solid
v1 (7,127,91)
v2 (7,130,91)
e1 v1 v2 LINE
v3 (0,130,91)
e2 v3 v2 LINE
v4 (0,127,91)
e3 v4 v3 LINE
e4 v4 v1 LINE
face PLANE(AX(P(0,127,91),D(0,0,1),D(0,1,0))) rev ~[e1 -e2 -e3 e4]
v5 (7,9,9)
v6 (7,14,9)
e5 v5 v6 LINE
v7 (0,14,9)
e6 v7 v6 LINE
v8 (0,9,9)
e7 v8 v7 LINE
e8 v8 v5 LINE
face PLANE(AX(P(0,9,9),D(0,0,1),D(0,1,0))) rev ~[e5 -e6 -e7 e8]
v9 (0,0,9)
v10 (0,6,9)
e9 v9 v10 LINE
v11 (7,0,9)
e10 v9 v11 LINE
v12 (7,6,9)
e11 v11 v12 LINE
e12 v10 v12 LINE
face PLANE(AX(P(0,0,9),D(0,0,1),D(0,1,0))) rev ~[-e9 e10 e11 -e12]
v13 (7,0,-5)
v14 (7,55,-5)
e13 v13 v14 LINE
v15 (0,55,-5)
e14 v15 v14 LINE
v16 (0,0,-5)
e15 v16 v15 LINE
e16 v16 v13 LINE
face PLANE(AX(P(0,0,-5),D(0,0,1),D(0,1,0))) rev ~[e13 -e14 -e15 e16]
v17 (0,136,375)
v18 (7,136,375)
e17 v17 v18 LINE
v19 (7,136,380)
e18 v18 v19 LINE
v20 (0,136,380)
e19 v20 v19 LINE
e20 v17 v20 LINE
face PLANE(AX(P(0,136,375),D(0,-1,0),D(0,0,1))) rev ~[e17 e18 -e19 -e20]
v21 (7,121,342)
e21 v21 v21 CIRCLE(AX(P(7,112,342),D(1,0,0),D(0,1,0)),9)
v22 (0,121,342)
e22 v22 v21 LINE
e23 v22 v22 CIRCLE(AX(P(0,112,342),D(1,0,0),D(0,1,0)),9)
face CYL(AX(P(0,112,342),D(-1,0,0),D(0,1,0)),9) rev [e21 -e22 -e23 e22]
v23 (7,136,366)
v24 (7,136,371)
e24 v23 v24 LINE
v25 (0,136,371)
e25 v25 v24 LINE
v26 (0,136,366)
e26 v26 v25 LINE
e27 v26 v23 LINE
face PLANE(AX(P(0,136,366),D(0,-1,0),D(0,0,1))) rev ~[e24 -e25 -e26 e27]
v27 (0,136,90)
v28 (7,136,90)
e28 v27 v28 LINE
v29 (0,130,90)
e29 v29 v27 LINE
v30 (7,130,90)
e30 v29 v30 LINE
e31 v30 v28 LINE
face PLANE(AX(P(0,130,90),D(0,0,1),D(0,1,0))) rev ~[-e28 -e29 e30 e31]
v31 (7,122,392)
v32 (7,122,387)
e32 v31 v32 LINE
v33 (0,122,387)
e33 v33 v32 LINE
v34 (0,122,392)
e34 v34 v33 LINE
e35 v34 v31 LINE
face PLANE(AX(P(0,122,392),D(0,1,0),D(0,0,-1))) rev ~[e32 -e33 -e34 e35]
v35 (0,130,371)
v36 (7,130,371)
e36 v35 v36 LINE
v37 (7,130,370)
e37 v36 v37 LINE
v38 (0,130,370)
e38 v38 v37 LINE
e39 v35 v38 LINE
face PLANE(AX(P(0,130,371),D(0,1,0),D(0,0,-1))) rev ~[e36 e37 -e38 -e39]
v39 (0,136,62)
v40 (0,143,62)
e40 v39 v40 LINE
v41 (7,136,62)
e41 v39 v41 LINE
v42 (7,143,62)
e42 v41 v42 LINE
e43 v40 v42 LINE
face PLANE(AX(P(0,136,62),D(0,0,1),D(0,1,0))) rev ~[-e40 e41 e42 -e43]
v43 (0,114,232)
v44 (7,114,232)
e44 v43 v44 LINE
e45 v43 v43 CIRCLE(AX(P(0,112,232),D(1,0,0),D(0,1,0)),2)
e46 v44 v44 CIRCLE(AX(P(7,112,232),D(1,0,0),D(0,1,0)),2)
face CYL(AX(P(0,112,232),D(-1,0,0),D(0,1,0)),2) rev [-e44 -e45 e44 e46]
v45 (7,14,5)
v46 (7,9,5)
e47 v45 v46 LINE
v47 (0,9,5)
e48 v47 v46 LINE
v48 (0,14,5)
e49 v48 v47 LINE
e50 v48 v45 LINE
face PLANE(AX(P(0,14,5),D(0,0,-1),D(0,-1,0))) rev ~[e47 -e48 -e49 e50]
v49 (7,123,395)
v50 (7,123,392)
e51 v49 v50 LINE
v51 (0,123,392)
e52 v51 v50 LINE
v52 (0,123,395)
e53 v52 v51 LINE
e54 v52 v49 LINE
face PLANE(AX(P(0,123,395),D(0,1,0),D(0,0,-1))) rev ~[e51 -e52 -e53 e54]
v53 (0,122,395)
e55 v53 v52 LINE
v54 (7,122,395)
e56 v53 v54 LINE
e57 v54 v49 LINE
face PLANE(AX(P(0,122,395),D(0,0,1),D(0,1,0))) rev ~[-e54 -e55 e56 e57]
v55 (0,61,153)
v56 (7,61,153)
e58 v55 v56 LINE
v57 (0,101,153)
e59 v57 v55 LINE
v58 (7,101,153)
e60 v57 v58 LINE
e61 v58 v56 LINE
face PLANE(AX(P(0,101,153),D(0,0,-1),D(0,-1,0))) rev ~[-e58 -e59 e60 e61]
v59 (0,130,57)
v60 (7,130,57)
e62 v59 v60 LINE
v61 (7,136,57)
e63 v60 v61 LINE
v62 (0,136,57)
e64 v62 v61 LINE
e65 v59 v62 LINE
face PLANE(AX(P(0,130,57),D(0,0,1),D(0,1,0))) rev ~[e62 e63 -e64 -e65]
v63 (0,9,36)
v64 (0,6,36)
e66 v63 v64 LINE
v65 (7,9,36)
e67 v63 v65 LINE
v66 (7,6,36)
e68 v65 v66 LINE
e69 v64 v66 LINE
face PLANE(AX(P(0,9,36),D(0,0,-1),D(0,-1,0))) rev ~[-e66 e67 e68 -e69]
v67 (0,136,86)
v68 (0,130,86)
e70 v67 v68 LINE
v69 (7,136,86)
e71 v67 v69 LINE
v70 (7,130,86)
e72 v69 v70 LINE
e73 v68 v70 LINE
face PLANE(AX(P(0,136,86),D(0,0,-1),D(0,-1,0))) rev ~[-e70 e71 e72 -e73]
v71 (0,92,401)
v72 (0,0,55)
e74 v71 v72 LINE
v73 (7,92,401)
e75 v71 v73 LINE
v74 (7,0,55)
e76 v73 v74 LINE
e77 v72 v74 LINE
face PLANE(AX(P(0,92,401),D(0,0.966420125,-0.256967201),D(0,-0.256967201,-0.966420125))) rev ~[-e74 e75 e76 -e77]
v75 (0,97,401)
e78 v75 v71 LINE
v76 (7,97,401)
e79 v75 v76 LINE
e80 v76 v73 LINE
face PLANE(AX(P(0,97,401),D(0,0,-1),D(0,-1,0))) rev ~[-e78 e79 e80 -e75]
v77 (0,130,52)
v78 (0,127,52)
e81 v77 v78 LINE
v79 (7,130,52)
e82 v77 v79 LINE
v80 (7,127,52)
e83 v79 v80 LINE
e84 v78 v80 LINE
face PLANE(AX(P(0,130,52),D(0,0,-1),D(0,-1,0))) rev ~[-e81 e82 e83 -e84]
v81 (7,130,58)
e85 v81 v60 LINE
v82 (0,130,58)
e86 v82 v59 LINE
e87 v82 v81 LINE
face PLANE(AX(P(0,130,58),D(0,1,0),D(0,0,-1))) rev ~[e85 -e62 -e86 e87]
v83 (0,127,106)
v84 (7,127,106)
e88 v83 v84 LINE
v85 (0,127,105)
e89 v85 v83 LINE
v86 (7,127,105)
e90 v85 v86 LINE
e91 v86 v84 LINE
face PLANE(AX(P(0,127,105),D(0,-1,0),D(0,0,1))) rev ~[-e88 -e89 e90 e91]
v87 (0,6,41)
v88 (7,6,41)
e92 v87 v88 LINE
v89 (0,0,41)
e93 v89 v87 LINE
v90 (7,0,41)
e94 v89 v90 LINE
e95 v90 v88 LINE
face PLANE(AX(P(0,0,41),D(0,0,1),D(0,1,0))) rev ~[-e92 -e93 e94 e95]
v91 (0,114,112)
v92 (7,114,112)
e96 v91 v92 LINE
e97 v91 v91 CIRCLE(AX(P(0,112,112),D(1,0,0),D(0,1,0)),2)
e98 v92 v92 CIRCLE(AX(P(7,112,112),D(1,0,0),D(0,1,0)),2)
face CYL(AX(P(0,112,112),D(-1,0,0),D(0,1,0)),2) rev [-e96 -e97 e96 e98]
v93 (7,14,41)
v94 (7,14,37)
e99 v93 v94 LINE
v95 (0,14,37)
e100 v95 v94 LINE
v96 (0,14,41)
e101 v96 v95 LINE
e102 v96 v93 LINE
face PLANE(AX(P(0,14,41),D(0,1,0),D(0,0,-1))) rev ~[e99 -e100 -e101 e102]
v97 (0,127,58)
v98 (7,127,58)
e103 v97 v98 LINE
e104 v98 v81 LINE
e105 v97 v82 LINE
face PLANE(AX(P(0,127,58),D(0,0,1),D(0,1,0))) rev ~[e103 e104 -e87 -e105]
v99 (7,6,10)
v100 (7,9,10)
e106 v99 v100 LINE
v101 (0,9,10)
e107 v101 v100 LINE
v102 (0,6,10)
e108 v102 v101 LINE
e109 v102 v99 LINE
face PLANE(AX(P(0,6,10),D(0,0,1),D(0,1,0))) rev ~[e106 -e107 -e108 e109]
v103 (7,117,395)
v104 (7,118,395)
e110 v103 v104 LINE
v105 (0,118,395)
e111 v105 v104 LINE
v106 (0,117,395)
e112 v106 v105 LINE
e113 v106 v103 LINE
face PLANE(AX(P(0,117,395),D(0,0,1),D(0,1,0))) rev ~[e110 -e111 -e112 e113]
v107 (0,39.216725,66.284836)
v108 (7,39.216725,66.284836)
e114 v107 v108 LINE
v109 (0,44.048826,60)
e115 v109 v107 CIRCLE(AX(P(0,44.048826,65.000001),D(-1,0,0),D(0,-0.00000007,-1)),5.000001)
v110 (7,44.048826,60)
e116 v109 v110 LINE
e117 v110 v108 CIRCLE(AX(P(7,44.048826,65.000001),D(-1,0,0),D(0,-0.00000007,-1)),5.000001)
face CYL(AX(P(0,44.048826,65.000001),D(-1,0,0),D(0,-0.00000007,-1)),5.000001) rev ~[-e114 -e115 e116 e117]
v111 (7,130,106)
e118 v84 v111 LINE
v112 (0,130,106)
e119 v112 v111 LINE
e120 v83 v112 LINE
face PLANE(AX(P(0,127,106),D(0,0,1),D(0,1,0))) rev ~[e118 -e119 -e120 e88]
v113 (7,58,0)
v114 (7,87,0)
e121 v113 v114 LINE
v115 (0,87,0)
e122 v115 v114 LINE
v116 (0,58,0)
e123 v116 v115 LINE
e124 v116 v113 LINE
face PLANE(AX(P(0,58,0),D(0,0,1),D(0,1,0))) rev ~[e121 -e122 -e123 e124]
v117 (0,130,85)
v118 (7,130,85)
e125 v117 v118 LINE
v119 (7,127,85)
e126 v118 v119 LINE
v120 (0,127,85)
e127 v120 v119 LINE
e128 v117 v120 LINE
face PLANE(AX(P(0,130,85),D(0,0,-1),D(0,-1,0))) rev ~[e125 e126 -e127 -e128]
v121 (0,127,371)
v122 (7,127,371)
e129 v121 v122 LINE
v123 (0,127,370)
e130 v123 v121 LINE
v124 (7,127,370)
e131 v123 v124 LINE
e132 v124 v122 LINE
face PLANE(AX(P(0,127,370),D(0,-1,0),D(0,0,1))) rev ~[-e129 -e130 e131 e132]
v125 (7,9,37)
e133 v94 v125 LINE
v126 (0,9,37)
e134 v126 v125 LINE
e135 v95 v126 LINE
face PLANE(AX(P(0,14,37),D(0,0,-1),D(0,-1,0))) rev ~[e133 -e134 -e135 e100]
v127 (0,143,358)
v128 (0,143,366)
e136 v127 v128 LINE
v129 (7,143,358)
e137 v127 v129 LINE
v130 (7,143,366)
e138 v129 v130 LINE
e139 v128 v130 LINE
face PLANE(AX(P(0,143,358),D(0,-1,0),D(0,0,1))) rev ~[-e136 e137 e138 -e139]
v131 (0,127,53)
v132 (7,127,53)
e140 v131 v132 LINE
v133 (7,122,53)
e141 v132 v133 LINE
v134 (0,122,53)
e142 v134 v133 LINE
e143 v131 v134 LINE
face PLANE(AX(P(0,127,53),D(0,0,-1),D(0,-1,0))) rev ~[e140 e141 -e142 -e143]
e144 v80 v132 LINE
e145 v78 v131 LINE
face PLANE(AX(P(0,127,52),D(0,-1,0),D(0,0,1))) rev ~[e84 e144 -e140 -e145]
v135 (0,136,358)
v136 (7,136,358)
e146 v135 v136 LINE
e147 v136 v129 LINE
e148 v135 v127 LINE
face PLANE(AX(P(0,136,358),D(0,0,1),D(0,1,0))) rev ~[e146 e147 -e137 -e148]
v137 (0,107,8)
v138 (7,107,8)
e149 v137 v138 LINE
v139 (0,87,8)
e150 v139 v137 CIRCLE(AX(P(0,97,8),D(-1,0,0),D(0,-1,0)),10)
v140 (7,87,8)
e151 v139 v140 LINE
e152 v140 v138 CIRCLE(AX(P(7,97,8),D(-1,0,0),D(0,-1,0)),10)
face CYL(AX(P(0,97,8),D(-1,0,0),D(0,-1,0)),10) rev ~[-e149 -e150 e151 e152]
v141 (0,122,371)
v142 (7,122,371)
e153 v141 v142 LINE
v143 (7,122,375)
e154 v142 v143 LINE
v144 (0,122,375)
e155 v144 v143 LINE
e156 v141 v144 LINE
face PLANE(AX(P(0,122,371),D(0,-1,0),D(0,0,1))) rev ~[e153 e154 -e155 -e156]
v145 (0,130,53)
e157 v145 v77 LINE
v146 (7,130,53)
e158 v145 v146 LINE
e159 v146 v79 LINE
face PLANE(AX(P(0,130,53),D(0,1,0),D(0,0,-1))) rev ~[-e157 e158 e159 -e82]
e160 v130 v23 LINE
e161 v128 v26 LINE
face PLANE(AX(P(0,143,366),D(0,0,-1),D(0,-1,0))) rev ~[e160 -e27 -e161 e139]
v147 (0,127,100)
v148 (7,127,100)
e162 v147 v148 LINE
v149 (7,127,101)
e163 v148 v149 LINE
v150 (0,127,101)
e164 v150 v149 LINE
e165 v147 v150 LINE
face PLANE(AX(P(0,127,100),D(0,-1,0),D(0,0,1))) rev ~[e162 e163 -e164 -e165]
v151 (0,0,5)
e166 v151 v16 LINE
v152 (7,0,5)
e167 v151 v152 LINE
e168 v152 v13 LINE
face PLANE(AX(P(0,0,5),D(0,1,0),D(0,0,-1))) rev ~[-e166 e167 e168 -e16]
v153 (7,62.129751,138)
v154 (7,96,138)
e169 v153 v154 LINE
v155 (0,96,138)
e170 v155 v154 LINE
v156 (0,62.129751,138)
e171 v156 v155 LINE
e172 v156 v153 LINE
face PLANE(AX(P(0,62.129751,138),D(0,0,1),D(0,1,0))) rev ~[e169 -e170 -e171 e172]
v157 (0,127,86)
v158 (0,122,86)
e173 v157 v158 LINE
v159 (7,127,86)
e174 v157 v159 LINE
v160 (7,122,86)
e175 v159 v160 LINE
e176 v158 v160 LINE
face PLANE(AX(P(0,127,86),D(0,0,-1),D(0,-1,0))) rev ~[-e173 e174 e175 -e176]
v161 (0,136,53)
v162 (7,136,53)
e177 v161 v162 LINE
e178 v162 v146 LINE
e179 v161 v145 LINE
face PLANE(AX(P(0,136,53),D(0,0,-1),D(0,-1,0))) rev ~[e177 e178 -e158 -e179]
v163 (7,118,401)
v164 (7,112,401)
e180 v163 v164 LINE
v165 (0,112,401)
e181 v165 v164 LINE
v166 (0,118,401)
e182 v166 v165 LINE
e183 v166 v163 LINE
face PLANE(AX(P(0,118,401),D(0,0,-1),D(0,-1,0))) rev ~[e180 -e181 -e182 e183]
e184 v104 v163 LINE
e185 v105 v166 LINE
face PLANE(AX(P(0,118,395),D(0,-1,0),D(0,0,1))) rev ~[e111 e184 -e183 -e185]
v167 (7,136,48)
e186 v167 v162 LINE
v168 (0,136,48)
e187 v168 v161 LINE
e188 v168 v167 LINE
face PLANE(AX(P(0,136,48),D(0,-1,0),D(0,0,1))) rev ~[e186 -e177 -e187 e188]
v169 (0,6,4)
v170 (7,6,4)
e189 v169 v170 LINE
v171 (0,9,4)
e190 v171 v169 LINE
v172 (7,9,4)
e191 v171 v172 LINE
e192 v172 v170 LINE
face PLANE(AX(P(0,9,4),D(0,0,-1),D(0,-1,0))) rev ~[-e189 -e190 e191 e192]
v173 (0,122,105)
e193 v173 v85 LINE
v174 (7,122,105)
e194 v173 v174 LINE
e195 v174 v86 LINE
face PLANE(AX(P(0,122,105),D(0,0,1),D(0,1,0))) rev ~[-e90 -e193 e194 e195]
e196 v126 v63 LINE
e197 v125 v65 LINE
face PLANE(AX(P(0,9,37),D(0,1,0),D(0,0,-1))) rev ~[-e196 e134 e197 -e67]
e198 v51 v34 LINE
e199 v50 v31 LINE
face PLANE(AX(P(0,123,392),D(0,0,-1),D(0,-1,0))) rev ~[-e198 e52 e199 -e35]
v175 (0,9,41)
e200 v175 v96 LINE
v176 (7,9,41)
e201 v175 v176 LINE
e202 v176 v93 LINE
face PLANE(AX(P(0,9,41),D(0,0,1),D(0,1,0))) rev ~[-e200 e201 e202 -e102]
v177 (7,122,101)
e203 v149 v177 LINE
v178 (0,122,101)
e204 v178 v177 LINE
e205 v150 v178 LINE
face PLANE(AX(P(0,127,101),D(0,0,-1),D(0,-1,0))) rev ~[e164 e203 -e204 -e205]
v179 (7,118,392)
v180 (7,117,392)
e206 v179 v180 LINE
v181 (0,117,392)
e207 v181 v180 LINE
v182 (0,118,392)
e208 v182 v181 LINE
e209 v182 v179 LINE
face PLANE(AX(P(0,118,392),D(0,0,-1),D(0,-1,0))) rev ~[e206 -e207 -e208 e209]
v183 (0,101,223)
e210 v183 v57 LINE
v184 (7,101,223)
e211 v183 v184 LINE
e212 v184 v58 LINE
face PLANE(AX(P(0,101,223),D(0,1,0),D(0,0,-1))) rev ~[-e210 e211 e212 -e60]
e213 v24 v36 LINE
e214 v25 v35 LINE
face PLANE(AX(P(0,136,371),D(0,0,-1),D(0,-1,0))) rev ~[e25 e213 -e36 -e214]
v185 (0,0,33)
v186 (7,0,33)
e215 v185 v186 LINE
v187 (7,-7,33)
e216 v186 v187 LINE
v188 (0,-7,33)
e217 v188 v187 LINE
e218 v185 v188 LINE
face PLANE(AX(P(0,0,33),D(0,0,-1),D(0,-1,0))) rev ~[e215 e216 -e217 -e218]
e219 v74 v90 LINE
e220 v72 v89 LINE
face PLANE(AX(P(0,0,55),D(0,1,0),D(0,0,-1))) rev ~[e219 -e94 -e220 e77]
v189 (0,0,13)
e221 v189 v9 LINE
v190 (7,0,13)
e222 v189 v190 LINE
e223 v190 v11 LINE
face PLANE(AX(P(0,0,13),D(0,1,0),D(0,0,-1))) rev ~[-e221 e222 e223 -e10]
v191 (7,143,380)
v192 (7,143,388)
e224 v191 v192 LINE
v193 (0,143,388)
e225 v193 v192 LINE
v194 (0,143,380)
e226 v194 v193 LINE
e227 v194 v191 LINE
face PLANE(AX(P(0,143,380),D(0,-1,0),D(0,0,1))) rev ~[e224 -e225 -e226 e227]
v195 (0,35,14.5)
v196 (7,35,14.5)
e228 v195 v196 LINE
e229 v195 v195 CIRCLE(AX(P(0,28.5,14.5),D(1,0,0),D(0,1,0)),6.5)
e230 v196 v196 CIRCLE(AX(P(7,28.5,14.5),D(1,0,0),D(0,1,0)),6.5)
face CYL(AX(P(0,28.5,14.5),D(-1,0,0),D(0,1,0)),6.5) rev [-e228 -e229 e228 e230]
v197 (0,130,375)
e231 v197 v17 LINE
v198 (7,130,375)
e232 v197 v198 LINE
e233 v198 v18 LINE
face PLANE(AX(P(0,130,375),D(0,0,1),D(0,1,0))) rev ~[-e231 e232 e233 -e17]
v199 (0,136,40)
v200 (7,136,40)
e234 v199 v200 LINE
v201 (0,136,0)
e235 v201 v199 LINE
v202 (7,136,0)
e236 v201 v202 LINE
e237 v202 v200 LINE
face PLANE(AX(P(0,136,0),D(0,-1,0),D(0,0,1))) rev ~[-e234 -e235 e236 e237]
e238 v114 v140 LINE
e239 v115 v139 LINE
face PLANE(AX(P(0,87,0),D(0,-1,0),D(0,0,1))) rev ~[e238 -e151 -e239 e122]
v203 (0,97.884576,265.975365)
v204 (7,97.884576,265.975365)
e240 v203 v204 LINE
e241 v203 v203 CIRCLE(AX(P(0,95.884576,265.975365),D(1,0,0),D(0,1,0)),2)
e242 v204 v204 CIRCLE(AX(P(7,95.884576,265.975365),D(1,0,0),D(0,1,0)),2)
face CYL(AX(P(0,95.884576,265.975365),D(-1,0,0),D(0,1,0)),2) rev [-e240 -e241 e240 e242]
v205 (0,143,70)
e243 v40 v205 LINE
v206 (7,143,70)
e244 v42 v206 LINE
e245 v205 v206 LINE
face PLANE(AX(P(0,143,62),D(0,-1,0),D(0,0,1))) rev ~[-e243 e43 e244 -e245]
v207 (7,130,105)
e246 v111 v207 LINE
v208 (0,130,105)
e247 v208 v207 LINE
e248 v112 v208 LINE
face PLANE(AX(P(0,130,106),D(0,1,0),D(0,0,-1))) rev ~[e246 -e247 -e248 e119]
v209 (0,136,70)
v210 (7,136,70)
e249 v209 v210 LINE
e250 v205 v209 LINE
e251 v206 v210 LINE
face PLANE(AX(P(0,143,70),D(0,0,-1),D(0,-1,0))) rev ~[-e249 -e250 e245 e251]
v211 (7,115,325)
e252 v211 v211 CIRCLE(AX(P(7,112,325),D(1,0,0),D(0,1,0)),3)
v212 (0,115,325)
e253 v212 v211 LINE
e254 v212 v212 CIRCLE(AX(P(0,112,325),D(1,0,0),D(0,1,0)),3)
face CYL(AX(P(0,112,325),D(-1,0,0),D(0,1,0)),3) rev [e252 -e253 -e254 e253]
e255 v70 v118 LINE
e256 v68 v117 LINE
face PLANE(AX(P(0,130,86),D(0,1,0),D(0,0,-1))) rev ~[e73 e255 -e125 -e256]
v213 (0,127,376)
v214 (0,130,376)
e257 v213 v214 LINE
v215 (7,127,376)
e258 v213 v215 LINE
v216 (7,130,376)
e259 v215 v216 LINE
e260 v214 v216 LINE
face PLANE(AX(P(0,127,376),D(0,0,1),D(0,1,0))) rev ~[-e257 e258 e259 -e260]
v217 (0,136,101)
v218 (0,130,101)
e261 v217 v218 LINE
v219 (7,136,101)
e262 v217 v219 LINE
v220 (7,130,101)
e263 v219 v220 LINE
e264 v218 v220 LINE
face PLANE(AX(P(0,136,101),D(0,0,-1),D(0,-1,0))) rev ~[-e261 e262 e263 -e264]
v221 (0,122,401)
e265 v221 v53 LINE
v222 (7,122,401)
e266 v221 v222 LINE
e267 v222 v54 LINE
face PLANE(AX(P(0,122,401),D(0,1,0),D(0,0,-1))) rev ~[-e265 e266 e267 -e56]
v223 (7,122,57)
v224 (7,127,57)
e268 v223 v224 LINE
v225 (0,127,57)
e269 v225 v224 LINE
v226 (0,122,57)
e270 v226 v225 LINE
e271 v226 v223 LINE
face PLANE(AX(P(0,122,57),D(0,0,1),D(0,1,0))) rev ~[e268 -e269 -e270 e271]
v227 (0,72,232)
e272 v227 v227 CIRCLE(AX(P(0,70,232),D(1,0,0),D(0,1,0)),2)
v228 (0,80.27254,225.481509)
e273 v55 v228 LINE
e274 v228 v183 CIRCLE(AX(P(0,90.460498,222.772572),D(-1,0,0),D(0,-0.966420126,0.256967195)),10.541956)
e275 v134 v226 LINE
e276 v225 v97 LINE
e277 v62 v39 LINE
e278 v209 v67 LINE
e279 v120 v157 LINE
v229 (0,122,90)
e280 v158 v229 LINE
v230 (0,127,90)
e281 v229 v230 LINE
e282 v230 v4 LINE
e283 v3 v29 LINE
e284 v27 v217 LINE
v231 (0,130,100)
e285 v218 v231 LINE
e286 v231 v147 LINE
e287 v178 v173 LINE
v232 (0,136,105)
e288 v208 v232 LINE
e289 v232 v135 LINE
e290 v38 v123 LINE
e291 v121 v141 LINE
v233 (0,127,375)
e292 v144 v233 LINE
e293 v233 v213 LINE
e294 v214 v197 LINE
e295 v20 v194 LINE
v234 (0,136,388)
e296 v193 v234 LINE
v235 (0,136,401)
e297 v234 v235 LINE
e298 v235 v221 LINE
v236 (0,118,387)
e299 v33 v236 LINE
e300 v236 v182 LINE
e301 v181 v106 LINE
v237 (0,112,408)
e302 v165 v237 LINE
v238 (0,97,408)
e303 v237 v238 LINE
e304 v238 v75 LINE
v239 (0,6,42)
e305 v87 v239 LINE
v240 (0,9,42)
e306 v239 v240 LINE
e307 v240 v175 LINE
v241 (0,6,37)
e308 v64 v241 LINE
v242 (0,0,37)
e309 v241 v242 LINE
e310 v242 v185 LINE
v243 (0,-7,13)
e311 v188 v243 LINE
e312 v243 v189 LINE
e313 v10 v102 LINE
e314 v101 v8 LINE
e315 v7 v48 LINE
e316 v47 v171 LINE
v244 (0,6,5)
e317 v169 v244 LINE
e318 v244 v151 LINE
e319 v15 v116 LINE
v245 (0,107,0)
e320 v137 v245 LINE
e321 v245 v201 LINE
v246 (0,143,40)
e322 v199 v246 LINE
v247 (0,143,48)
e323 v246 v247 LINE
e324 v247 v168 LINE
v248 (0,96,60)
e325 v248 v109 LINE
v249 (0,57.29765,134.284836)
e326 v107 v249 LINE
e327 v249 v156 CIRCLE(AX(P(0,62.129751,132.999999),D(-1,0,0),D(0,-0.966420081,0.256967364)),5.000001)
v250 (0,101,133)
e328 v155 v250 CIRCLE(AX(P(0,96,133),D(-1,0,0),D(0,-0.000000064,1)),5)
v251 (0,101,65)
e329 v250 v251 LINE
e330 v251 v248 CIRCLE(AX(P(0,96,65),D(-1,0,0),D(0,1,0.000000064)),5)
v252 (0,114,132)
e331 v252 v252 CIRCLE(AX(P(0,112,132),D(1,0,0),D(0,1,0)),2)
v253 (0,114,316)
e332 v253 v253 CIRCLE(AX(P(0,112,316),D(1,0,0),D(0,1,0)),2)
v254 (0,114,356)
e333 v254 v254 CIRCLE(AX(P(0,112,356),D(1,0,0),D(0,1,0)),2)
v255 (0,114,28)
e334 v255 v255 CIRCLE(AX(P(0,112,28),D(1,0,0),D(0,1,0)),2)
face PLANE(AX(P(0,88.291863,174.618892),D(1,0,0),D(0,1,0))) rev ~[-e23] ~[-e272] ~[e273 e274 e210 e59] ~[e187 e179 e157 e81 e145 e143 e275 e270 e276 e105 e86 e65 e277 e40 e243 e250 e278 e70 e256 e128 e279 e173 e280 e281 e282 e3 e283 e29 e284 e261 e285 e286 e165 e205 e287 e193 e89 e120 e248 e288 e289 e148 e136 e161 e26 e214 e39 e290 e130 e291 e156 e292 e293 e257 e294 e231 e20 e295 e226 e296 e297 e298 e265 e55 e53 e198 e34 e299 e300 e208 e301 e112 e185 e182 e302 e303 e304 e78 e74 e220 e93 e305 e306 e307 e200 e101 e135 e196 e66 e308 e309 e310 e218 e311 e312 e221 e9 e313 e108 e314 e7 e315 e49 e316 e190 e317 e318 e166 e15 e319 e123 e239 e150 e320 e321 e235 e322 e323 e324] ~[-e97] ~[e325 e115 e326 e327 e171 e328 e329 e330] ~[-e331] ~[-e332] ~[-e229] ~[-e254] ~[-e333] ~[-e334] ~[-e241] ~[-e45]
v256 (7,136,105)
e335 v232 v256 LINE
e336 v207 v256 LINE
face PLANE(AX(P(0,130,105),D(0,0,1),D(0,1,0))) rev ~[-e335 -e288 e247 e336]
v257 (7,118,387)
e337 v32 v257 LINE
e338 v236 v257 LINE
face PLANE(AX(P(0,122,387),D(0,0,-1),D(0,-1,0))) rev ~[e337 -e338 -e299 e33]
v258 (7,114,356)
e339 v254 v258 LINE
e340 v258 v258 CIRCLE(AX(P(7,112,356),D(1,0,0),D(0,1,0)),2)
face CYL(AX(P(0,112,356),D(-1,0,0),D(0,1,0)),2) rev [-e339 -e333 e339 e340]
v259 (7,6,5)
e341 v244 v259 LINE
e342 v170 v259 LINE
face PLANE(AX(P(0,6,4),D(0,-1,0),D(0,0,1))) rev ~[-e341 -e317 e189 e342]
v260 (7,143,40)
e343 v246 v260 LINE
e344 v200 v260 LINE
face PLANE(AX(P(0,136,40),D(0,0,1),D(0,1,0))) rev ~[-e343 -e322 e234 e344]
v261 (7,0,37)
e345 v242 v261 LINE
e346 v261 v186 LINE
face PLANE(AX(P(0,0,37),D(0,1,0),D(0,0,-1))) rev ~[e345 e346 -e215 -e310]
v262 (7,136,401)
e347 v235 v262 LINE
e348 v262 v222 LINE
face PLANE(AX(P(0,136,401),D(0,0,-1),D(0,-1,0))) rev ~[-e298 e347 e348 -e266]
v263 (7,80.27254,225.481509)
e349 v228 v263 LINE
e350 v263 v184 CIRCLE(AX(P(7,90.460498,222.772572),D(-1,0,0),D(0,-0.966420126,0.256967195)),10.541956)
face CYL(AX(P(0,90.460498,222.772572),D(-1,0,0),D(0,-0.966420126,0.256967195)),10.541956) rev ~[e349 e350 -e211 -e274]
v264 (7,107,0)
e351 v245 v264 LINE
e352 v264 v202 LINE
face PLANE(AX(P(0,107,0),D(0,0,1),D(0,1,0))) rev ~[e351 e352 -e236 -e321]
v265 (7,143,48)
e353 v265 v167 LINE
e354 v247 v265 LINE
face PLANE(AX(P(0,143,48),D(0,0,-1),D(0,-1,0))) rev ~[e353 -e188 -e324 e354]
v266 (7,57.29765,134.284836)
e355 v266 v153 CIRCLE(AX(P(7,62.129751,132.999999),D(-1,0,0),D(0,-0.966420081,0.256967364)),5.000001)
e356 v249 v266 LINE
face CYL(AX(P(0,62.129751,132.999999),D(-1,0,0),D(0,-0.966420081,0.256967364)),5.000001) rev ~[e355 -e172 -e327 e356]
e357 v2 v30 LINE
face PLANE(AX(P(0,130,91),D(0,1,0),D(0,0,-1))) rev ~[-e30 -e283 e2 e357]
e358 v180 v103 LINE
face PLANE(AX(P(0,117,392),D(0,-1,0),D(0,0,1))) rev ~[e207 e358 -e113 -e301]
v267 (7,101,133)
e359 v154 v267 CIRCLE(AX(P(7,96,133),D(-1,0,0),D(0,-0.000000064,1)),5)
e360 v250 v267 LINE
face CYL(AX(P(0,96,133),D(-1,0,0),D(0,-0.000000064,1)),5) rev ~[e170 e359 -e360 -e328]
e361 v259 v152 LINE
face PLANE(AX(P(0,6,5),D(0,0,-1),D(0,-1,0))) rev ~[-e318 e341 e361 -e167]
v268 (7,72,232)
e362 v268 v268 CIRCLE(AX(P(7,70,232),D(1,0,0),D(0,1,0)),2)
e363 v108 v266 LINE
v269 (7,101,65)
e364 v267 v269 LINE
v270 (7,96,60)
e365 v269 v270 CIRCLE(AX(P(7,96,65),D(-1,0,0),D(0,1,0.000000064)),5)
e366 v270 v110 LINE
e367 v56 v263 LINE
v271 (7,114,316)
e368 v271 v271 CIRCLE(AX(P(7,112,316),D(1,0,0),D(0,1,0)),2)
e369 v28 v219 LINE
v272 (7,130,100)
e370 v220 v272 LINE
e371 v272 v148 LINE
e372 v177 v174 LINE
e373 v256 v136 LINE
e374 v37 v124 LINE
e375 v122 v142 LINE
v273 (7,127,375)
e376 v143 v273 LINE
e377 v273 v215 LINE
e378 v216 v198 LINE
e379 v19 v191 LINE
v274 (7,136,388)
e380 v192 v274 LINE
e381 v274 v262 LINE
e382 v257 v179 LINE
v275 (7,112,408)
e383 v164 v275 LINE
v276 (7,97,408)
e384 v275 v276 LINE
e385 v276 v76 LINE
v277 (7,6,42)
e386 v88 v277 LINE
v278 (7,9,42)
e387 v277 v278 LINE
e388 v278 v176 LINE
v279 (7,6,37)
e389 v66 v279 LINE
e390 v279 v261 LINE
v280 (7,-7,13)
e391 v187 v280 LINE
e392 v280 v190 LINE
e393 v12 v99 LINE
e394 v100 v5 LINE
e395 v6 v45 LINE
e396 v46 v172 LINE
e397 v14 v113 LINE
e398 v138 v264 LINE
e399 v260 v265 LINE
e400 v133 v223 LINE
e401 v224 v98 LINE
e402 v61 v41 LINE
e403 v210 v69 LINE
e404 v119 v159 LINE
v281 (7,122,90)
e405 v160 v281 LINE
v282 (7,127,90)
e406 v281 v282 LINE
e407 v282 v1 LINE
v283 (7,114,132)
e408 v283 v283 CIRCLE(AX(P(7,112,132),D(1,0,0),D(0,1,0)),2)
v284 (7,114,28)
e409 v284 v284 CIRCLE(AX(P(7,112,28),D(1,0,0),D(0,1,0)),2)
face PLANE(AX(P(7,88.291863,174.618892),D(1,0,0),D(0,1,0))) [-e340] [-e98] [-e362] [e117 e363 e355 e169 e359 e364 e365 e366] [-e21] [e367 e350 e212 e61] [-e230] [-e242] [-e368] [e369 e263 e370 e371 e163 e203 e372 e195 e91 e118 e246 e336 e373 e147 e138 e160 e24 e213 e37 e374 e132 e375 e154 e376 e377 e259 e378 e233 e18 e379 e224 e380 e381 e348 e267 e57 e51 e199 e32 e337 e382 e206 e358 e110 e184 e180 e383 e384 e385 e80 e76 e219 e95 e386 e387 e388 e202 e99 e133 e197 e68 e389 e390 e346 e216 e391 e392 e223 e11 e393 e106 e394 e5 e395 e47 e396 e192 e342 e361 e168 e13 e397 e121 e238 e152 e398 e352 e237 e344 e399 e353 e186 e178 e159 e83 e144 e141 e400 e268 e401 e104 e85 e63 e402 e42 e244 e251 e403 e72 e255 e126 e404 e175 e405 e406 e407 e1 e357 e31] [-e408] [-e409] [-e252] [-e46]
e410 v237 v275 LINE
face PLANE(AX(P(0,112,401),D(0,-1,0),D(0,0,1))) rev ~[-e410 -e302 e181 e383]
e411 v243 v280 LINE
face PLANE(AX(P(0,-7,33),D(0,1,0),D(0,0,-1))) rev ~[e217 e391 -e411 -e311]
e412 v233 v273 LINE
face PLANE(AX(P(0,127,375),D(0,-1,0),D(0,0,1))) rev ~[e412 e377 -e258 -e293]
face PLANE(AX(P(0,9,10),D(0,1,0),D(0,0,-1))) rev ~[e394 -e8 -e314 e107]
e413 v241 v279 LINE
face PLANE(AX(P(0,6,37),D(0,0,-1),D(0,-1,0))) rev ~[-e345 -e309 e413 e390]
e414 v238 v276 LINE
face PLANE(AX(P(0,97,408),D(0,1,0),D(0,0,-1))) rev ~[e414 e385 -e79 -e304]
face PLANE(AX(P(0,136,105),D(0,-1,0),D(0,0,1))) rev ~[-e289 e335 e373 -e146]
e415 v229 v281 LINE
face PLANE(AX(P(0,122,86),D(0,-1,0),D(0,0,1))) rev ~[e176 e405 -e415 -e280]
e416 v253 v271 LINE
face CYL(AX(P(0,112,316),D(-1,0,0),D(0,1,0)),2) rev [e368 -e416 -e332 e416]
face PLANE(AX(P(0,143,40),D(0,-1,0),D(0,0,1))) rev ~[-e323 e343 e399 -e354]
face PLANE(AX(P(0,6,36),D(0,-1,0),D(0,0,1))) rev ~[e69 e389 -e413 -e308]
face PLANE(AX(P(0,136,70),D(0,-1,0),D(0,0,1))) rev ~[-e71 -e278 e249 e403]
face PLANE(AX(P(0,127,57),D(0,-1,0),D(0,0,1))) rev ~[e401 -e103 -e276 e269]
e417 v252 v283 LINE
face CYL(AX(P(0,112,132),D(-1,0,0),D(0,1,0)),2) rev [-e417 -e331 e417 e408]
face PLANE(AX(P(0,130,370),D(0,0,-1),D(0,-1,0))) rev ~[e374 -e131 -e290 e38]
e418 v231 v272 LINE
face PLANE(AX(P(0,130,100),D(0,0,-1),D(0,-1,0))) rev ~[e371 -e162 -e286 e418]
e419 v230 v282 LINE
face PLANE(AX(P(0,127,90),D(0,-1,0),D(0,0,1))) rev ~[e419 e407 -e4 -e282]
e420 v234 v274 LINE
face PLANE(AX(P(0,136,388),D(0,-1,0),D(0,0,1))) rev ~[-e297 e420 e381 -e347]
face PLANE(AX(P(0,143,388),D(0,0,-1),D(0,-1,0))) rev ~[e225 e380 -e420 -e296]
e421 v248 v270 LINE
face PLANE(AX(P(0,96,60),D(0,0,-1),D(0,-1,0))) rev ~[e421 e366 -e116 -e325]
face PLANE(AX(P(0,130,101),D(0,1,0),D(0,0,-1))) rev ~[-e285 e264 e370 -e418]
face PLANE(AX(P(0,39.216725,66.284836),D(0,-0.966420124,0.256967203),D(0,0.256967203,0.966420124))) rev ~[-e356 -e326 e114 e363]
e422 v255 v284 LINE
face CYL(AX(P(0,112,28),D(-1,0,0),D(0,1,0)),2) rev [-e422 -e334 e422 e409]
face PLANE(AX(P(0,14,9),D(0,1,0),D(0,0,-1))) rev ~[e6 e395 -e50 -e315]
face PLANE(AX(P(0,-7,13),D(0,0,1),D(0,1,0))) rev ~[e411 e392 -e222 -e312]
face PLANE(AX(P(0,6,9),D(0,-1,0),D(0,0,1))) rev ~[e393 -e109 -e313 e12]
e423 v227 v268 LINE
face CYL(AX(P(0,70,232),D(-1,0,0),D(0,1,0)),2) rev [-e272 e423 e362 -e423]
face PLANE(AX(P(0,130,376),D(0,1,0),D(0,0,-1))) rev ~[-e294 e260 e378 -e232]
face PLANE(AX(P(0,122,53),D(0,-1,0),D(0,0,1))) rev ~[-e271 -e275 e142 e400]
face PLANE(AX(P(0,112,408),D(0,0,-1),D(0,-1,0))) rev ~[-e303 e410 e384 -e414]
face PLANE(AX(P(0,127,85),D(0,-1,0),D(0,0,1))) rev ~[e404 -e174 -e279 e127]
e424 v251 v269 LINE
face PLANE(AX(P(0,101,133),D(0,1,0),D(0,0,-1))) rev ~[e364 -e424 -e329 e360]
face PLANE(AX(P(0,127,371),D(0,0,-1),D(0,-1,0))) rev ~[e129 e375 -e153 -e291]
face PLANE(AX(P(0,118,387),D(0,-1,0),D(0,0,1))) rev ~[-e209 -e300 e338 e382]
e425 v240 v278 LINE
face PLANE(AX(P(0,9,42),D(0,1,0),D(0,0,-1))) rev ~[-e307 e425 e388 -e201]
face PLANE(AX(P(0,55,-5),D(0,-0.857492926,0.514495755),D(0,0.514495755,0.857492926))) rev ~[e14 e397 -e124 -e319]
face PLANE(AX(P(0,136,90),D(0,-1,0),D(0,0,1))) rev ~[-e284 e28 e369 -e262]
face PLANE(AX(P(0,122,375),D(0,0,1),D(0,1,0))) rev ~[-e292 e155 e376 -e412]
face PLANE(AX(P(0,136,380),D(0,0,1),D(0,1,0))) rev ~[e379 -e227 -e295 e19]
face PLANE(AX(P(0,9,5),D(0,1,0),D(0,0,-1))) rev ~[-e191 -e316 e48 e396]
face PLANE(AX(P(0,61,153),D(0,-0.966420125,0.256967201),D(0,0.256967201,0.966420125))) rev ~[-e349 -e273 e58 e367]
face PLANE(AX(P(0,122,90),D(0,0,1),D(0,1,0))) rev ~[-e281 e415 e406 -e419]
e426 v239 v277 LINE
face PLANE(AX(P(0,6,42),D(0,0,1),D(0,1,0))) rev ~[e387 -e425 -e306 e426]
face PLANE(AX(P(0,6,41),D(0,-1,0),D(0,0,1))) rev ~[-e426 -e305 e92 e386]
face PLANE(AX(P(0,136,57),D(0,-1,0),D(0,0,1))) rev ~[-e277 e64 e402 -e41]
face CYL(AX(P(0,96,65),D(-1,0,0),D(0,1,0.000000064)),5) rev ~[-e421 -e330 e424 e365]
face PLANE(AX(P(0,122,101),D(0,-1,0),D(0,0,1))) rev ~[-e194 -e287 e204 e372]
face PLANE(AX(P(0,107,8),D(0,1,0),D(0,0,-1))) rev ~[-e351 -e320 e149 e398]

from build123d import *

# Parameters (mm, degrees)
F0_R     = 6.5
F0_R_2   = 2
F0_R_3   = 3
F0_R_4   = 9
F1_DEPTH = 7


with BuildPart() as f1:
    # F0 (on Right) → F1 (new body)
    with BuildSketch(Plane.YZ):
        with BuildLine():
            Line((55, -5), (58, 0))
            Line((58, 0), (87, 0))
            Line((87, 0), (87, 8))
            ThreePointArc((87, 8), (97, 18), (107, 8))
            Line((107, 8), (107, 0))
            Line((107, 0), (136, 0))
            Line((136, 0), (136, 40))
            Line((136, 40), (143, 40))
            Line((143, 40), (143, 48))
            Line((143, 48), (136, 48))
            Line((136, 48), (136, 53))
            Line((136, 53), (130, 53))
            Line((130, 53), (130, 52))
            Line((130, 52), (127, 52))
            Line((127, 52), (127, 53))
            Line((127, 53), (122, 53))
            Line((122, 53), (122, 55))
            Line((122, 55), (122, 57))
            Line((122, 57), (127, 57))
            Line((127, 57), (127, 58))
            Line((127, 58), (130, 58))
            Line((130, 58), (130, 57))
            Line((130, 57), (136, 57))
            Line((136, 57), (136, 62))
            Line((136, 62), (143, 62))
            Line((143, 62), (143, 70))
            Line((143, 70), (136, 70))
            Line((136, 70), (136, 86))
            Line((136, 86), (130, 86))
            Line((130, 86), (130, 85))
            Line((130, 85), (127, 85))
            Line((127, 85), (127, 86))
            Line((127, 86), (122, 86))
            Line((122, 86), (122, 88))
            Line((122, 88), (122, 90))
            Line((122, 90), (127, 90))
            Line((127, 90), (127, 91))
            Line((127, 91), (130, 91))
            Line((130, 91), (130, 90))
            Line((130, 90), (136, 90))
            Line((136, 90), (136, 101))
            Line((136, 101), (130, 101))
            Line((130, 101), (130, 100))
            Line((130, 100), (127, 100))
            Line((127, 100), (127, 101))
            Line((127, 101), (122, 101))
            Line((122, 101), (122, 103))
            Line((122, 103), (122, 105))
            Line((122, 105), (127, 105))
            Line((127, 105), (127, 106))
            Line((127, 106), (130, 106))
            Line((130, 106), (130, 105))
            Line((130, 105), (136, 105))
            Line((136, 105), (136, 358))
            Line((136, 358), (143, 358))
            Line((143, 358), (143, 366))
            Line((143, 366), (136, 366))
            Line((136, 366), (136, 371))
            Line((136, 371), (130, 371))
            Line((130, 371), (130, 370))
            Line((130, 370), (127, 370))
            Line((127, 370), (127, 371))
            Line((127, 371), (122, 371))
            Line((122, 371), (122, 373))
            Line((122, 373), (122, 375))
            Line((122, 375), (127, 375))
            Line((127, 375), (127, 376))
            Line((127, 376), (130, 376))
            Line((130, 376), (130, 375))
            Line((130, 375), (136, 375))
            Line((136, 375), (136, 380))
            Line((136, 380), (143, 380))
            Line((143, 380), (143, 388))
            Line((143, 388), (136, 388))
            Line((136, 388), (136, 401))
            Line((136, 401), (122, 401))
            Line((122, 401), (122, 395))
            Line((122, 395), (123, 395))
            Line((123, 395), (123, 392))
            Line((123, 392), (122, 392))
            Line((122, 392), (122, 387))
            Line((122, 387), (120, 387))
            Line((120, 387), (118, 387))
            Line((118, 387), (118, 392))
            Line((118, 392), (117, 392))
            Line((117, 392), (117, 395))
            Line((117, 395), (118, 395))
            Line((118, 395), (118, 401))
            Line((118, 401), (112, 401))
            Line((112, 401), (112, 408))
            Line((112, 408), (97, 408))
            Line((97, 408), (97, 401))
            Line((97, 401), (92, 401))
            Line((92, 401), (0, 55))
            Line((0, 55), (0, 41))
            Line((0, 41), (6, 41))
            Line((6, 41), (6, 42))
            Line((6, 42), (9, 42))
            Line((9, 42), (9, 41))
            Line((9, 41), (14, 41))
            Line((14, 41), (14, 39))
            Line((14, 39), (14, 37))
            Line((14, 37), (9, 37))
            Line((9, 37), (9, 36))
            Line((9, 36), (6, 36))
            Line((6, 36), (6, 37))
            Line((6, 37), (0, 37))
            Line((0, 37), (0, 33))
            Line((0, 33), (-7, 33))
            Line((-7, 33), (-7, 23))
            Line((-7, 23), (-7, 13))
            Line((-7, 13), (0, 13))
            Line((0, 13), (0, 9))
            Line((0, 9), (6, 9))
            Line((6, 9), (6, 10))
            Line((6, 10), (9, 10))
            Line((9, 10), (9, 9))
            Line((9, 9), (14, 9))
            Line((14, 9), (14, 7))
            Line((14, 7), (14, 5))
            Line((14, 5), (9, 5))
            Line((9, 5), (9, 4))
            Line((9, 4), (6, 4))
            Line((6, 4), (6, 5))
            Line((6, 5), (0, 5))
            Line((0, 5), (0, 0))
            Line((0, 0), (0, -5))
            Line((0, -5), (55, -5))
        make_face()
        with Locations((28.5, 14.5)):
            Circle(F0_R, mode=Mode.SUBTRACT)
        with Locations((112, 28)):
            Circle(F0_R_2, mode=Mode.SUBTRACT)
        with BuildLine():
            ThreePointArc((57.29765, 134.284836), (59.082144, 136.963848), (62.129751, 138))
            Line((62.129751, 138), (96, 138))
            ThreePointArc((96, 138), (99.535534, 136.535534), (101, 133))
            Line((101, 133), (101, 65))
            ThreePointArc((101, 65), (99.535534, 61.464466), (96, 60))
            Line((96, 60), (44.048826, 60))
            ThreePointArc((44.048826, 60), (40.084978, 61.952393), (39.216725, 66.284836))
            Line((39.216725, 66.284836), (57.29765, 134.284836))
        make_face(mode=Mode.SUBTRACT)
        with BuildLine():
            Line((101, 223), (101, 153))
            Line((101, 153), (61, 153))
            Line((61, 153), (80.27254, 225.481509))
            ThreePointArc((80.27254, 225.481509), (91.713641, 233.239781), (101, 223))
        make_face(mode=Mode.SUBTRACT)
        with Locations((112, 112)):
            Circle(F0_R_2, mode=Mode.SUBTRACT)
        with Locations((112, 132)):
            Circle(F0_R_2, mode=Mode.SUBTRACT)
        with Locations((70, 232)):
            Circle(F0_R_2, mode=Mode.SUBTRACT)
        with Locations((95.884576, 265.975365)):
            Circle(F0_R_2, mode=Mode.SUBTRACT)
        with Locations((112, 232)):
            Circle(F0_R_2, mode=Mode.SUBTRACT)
        with Locations((112, 316)):
            Circle(F0_R_2, mode=Mode.SUBTRACT)
        with Locations((112, 325)):
            Circle(F0_R_3, mode=Mode.SUBTRACT)
        with Locations((112, 342)):
            Circle(F0_R_4, mode=Mode.SUBTRACT)
        with Locations((112, 356)):
            Circle(F0_R_2, mode=Mode.SUBTRACT)
    extrude(amount=F1_DEPTH)


solid = f1.part
